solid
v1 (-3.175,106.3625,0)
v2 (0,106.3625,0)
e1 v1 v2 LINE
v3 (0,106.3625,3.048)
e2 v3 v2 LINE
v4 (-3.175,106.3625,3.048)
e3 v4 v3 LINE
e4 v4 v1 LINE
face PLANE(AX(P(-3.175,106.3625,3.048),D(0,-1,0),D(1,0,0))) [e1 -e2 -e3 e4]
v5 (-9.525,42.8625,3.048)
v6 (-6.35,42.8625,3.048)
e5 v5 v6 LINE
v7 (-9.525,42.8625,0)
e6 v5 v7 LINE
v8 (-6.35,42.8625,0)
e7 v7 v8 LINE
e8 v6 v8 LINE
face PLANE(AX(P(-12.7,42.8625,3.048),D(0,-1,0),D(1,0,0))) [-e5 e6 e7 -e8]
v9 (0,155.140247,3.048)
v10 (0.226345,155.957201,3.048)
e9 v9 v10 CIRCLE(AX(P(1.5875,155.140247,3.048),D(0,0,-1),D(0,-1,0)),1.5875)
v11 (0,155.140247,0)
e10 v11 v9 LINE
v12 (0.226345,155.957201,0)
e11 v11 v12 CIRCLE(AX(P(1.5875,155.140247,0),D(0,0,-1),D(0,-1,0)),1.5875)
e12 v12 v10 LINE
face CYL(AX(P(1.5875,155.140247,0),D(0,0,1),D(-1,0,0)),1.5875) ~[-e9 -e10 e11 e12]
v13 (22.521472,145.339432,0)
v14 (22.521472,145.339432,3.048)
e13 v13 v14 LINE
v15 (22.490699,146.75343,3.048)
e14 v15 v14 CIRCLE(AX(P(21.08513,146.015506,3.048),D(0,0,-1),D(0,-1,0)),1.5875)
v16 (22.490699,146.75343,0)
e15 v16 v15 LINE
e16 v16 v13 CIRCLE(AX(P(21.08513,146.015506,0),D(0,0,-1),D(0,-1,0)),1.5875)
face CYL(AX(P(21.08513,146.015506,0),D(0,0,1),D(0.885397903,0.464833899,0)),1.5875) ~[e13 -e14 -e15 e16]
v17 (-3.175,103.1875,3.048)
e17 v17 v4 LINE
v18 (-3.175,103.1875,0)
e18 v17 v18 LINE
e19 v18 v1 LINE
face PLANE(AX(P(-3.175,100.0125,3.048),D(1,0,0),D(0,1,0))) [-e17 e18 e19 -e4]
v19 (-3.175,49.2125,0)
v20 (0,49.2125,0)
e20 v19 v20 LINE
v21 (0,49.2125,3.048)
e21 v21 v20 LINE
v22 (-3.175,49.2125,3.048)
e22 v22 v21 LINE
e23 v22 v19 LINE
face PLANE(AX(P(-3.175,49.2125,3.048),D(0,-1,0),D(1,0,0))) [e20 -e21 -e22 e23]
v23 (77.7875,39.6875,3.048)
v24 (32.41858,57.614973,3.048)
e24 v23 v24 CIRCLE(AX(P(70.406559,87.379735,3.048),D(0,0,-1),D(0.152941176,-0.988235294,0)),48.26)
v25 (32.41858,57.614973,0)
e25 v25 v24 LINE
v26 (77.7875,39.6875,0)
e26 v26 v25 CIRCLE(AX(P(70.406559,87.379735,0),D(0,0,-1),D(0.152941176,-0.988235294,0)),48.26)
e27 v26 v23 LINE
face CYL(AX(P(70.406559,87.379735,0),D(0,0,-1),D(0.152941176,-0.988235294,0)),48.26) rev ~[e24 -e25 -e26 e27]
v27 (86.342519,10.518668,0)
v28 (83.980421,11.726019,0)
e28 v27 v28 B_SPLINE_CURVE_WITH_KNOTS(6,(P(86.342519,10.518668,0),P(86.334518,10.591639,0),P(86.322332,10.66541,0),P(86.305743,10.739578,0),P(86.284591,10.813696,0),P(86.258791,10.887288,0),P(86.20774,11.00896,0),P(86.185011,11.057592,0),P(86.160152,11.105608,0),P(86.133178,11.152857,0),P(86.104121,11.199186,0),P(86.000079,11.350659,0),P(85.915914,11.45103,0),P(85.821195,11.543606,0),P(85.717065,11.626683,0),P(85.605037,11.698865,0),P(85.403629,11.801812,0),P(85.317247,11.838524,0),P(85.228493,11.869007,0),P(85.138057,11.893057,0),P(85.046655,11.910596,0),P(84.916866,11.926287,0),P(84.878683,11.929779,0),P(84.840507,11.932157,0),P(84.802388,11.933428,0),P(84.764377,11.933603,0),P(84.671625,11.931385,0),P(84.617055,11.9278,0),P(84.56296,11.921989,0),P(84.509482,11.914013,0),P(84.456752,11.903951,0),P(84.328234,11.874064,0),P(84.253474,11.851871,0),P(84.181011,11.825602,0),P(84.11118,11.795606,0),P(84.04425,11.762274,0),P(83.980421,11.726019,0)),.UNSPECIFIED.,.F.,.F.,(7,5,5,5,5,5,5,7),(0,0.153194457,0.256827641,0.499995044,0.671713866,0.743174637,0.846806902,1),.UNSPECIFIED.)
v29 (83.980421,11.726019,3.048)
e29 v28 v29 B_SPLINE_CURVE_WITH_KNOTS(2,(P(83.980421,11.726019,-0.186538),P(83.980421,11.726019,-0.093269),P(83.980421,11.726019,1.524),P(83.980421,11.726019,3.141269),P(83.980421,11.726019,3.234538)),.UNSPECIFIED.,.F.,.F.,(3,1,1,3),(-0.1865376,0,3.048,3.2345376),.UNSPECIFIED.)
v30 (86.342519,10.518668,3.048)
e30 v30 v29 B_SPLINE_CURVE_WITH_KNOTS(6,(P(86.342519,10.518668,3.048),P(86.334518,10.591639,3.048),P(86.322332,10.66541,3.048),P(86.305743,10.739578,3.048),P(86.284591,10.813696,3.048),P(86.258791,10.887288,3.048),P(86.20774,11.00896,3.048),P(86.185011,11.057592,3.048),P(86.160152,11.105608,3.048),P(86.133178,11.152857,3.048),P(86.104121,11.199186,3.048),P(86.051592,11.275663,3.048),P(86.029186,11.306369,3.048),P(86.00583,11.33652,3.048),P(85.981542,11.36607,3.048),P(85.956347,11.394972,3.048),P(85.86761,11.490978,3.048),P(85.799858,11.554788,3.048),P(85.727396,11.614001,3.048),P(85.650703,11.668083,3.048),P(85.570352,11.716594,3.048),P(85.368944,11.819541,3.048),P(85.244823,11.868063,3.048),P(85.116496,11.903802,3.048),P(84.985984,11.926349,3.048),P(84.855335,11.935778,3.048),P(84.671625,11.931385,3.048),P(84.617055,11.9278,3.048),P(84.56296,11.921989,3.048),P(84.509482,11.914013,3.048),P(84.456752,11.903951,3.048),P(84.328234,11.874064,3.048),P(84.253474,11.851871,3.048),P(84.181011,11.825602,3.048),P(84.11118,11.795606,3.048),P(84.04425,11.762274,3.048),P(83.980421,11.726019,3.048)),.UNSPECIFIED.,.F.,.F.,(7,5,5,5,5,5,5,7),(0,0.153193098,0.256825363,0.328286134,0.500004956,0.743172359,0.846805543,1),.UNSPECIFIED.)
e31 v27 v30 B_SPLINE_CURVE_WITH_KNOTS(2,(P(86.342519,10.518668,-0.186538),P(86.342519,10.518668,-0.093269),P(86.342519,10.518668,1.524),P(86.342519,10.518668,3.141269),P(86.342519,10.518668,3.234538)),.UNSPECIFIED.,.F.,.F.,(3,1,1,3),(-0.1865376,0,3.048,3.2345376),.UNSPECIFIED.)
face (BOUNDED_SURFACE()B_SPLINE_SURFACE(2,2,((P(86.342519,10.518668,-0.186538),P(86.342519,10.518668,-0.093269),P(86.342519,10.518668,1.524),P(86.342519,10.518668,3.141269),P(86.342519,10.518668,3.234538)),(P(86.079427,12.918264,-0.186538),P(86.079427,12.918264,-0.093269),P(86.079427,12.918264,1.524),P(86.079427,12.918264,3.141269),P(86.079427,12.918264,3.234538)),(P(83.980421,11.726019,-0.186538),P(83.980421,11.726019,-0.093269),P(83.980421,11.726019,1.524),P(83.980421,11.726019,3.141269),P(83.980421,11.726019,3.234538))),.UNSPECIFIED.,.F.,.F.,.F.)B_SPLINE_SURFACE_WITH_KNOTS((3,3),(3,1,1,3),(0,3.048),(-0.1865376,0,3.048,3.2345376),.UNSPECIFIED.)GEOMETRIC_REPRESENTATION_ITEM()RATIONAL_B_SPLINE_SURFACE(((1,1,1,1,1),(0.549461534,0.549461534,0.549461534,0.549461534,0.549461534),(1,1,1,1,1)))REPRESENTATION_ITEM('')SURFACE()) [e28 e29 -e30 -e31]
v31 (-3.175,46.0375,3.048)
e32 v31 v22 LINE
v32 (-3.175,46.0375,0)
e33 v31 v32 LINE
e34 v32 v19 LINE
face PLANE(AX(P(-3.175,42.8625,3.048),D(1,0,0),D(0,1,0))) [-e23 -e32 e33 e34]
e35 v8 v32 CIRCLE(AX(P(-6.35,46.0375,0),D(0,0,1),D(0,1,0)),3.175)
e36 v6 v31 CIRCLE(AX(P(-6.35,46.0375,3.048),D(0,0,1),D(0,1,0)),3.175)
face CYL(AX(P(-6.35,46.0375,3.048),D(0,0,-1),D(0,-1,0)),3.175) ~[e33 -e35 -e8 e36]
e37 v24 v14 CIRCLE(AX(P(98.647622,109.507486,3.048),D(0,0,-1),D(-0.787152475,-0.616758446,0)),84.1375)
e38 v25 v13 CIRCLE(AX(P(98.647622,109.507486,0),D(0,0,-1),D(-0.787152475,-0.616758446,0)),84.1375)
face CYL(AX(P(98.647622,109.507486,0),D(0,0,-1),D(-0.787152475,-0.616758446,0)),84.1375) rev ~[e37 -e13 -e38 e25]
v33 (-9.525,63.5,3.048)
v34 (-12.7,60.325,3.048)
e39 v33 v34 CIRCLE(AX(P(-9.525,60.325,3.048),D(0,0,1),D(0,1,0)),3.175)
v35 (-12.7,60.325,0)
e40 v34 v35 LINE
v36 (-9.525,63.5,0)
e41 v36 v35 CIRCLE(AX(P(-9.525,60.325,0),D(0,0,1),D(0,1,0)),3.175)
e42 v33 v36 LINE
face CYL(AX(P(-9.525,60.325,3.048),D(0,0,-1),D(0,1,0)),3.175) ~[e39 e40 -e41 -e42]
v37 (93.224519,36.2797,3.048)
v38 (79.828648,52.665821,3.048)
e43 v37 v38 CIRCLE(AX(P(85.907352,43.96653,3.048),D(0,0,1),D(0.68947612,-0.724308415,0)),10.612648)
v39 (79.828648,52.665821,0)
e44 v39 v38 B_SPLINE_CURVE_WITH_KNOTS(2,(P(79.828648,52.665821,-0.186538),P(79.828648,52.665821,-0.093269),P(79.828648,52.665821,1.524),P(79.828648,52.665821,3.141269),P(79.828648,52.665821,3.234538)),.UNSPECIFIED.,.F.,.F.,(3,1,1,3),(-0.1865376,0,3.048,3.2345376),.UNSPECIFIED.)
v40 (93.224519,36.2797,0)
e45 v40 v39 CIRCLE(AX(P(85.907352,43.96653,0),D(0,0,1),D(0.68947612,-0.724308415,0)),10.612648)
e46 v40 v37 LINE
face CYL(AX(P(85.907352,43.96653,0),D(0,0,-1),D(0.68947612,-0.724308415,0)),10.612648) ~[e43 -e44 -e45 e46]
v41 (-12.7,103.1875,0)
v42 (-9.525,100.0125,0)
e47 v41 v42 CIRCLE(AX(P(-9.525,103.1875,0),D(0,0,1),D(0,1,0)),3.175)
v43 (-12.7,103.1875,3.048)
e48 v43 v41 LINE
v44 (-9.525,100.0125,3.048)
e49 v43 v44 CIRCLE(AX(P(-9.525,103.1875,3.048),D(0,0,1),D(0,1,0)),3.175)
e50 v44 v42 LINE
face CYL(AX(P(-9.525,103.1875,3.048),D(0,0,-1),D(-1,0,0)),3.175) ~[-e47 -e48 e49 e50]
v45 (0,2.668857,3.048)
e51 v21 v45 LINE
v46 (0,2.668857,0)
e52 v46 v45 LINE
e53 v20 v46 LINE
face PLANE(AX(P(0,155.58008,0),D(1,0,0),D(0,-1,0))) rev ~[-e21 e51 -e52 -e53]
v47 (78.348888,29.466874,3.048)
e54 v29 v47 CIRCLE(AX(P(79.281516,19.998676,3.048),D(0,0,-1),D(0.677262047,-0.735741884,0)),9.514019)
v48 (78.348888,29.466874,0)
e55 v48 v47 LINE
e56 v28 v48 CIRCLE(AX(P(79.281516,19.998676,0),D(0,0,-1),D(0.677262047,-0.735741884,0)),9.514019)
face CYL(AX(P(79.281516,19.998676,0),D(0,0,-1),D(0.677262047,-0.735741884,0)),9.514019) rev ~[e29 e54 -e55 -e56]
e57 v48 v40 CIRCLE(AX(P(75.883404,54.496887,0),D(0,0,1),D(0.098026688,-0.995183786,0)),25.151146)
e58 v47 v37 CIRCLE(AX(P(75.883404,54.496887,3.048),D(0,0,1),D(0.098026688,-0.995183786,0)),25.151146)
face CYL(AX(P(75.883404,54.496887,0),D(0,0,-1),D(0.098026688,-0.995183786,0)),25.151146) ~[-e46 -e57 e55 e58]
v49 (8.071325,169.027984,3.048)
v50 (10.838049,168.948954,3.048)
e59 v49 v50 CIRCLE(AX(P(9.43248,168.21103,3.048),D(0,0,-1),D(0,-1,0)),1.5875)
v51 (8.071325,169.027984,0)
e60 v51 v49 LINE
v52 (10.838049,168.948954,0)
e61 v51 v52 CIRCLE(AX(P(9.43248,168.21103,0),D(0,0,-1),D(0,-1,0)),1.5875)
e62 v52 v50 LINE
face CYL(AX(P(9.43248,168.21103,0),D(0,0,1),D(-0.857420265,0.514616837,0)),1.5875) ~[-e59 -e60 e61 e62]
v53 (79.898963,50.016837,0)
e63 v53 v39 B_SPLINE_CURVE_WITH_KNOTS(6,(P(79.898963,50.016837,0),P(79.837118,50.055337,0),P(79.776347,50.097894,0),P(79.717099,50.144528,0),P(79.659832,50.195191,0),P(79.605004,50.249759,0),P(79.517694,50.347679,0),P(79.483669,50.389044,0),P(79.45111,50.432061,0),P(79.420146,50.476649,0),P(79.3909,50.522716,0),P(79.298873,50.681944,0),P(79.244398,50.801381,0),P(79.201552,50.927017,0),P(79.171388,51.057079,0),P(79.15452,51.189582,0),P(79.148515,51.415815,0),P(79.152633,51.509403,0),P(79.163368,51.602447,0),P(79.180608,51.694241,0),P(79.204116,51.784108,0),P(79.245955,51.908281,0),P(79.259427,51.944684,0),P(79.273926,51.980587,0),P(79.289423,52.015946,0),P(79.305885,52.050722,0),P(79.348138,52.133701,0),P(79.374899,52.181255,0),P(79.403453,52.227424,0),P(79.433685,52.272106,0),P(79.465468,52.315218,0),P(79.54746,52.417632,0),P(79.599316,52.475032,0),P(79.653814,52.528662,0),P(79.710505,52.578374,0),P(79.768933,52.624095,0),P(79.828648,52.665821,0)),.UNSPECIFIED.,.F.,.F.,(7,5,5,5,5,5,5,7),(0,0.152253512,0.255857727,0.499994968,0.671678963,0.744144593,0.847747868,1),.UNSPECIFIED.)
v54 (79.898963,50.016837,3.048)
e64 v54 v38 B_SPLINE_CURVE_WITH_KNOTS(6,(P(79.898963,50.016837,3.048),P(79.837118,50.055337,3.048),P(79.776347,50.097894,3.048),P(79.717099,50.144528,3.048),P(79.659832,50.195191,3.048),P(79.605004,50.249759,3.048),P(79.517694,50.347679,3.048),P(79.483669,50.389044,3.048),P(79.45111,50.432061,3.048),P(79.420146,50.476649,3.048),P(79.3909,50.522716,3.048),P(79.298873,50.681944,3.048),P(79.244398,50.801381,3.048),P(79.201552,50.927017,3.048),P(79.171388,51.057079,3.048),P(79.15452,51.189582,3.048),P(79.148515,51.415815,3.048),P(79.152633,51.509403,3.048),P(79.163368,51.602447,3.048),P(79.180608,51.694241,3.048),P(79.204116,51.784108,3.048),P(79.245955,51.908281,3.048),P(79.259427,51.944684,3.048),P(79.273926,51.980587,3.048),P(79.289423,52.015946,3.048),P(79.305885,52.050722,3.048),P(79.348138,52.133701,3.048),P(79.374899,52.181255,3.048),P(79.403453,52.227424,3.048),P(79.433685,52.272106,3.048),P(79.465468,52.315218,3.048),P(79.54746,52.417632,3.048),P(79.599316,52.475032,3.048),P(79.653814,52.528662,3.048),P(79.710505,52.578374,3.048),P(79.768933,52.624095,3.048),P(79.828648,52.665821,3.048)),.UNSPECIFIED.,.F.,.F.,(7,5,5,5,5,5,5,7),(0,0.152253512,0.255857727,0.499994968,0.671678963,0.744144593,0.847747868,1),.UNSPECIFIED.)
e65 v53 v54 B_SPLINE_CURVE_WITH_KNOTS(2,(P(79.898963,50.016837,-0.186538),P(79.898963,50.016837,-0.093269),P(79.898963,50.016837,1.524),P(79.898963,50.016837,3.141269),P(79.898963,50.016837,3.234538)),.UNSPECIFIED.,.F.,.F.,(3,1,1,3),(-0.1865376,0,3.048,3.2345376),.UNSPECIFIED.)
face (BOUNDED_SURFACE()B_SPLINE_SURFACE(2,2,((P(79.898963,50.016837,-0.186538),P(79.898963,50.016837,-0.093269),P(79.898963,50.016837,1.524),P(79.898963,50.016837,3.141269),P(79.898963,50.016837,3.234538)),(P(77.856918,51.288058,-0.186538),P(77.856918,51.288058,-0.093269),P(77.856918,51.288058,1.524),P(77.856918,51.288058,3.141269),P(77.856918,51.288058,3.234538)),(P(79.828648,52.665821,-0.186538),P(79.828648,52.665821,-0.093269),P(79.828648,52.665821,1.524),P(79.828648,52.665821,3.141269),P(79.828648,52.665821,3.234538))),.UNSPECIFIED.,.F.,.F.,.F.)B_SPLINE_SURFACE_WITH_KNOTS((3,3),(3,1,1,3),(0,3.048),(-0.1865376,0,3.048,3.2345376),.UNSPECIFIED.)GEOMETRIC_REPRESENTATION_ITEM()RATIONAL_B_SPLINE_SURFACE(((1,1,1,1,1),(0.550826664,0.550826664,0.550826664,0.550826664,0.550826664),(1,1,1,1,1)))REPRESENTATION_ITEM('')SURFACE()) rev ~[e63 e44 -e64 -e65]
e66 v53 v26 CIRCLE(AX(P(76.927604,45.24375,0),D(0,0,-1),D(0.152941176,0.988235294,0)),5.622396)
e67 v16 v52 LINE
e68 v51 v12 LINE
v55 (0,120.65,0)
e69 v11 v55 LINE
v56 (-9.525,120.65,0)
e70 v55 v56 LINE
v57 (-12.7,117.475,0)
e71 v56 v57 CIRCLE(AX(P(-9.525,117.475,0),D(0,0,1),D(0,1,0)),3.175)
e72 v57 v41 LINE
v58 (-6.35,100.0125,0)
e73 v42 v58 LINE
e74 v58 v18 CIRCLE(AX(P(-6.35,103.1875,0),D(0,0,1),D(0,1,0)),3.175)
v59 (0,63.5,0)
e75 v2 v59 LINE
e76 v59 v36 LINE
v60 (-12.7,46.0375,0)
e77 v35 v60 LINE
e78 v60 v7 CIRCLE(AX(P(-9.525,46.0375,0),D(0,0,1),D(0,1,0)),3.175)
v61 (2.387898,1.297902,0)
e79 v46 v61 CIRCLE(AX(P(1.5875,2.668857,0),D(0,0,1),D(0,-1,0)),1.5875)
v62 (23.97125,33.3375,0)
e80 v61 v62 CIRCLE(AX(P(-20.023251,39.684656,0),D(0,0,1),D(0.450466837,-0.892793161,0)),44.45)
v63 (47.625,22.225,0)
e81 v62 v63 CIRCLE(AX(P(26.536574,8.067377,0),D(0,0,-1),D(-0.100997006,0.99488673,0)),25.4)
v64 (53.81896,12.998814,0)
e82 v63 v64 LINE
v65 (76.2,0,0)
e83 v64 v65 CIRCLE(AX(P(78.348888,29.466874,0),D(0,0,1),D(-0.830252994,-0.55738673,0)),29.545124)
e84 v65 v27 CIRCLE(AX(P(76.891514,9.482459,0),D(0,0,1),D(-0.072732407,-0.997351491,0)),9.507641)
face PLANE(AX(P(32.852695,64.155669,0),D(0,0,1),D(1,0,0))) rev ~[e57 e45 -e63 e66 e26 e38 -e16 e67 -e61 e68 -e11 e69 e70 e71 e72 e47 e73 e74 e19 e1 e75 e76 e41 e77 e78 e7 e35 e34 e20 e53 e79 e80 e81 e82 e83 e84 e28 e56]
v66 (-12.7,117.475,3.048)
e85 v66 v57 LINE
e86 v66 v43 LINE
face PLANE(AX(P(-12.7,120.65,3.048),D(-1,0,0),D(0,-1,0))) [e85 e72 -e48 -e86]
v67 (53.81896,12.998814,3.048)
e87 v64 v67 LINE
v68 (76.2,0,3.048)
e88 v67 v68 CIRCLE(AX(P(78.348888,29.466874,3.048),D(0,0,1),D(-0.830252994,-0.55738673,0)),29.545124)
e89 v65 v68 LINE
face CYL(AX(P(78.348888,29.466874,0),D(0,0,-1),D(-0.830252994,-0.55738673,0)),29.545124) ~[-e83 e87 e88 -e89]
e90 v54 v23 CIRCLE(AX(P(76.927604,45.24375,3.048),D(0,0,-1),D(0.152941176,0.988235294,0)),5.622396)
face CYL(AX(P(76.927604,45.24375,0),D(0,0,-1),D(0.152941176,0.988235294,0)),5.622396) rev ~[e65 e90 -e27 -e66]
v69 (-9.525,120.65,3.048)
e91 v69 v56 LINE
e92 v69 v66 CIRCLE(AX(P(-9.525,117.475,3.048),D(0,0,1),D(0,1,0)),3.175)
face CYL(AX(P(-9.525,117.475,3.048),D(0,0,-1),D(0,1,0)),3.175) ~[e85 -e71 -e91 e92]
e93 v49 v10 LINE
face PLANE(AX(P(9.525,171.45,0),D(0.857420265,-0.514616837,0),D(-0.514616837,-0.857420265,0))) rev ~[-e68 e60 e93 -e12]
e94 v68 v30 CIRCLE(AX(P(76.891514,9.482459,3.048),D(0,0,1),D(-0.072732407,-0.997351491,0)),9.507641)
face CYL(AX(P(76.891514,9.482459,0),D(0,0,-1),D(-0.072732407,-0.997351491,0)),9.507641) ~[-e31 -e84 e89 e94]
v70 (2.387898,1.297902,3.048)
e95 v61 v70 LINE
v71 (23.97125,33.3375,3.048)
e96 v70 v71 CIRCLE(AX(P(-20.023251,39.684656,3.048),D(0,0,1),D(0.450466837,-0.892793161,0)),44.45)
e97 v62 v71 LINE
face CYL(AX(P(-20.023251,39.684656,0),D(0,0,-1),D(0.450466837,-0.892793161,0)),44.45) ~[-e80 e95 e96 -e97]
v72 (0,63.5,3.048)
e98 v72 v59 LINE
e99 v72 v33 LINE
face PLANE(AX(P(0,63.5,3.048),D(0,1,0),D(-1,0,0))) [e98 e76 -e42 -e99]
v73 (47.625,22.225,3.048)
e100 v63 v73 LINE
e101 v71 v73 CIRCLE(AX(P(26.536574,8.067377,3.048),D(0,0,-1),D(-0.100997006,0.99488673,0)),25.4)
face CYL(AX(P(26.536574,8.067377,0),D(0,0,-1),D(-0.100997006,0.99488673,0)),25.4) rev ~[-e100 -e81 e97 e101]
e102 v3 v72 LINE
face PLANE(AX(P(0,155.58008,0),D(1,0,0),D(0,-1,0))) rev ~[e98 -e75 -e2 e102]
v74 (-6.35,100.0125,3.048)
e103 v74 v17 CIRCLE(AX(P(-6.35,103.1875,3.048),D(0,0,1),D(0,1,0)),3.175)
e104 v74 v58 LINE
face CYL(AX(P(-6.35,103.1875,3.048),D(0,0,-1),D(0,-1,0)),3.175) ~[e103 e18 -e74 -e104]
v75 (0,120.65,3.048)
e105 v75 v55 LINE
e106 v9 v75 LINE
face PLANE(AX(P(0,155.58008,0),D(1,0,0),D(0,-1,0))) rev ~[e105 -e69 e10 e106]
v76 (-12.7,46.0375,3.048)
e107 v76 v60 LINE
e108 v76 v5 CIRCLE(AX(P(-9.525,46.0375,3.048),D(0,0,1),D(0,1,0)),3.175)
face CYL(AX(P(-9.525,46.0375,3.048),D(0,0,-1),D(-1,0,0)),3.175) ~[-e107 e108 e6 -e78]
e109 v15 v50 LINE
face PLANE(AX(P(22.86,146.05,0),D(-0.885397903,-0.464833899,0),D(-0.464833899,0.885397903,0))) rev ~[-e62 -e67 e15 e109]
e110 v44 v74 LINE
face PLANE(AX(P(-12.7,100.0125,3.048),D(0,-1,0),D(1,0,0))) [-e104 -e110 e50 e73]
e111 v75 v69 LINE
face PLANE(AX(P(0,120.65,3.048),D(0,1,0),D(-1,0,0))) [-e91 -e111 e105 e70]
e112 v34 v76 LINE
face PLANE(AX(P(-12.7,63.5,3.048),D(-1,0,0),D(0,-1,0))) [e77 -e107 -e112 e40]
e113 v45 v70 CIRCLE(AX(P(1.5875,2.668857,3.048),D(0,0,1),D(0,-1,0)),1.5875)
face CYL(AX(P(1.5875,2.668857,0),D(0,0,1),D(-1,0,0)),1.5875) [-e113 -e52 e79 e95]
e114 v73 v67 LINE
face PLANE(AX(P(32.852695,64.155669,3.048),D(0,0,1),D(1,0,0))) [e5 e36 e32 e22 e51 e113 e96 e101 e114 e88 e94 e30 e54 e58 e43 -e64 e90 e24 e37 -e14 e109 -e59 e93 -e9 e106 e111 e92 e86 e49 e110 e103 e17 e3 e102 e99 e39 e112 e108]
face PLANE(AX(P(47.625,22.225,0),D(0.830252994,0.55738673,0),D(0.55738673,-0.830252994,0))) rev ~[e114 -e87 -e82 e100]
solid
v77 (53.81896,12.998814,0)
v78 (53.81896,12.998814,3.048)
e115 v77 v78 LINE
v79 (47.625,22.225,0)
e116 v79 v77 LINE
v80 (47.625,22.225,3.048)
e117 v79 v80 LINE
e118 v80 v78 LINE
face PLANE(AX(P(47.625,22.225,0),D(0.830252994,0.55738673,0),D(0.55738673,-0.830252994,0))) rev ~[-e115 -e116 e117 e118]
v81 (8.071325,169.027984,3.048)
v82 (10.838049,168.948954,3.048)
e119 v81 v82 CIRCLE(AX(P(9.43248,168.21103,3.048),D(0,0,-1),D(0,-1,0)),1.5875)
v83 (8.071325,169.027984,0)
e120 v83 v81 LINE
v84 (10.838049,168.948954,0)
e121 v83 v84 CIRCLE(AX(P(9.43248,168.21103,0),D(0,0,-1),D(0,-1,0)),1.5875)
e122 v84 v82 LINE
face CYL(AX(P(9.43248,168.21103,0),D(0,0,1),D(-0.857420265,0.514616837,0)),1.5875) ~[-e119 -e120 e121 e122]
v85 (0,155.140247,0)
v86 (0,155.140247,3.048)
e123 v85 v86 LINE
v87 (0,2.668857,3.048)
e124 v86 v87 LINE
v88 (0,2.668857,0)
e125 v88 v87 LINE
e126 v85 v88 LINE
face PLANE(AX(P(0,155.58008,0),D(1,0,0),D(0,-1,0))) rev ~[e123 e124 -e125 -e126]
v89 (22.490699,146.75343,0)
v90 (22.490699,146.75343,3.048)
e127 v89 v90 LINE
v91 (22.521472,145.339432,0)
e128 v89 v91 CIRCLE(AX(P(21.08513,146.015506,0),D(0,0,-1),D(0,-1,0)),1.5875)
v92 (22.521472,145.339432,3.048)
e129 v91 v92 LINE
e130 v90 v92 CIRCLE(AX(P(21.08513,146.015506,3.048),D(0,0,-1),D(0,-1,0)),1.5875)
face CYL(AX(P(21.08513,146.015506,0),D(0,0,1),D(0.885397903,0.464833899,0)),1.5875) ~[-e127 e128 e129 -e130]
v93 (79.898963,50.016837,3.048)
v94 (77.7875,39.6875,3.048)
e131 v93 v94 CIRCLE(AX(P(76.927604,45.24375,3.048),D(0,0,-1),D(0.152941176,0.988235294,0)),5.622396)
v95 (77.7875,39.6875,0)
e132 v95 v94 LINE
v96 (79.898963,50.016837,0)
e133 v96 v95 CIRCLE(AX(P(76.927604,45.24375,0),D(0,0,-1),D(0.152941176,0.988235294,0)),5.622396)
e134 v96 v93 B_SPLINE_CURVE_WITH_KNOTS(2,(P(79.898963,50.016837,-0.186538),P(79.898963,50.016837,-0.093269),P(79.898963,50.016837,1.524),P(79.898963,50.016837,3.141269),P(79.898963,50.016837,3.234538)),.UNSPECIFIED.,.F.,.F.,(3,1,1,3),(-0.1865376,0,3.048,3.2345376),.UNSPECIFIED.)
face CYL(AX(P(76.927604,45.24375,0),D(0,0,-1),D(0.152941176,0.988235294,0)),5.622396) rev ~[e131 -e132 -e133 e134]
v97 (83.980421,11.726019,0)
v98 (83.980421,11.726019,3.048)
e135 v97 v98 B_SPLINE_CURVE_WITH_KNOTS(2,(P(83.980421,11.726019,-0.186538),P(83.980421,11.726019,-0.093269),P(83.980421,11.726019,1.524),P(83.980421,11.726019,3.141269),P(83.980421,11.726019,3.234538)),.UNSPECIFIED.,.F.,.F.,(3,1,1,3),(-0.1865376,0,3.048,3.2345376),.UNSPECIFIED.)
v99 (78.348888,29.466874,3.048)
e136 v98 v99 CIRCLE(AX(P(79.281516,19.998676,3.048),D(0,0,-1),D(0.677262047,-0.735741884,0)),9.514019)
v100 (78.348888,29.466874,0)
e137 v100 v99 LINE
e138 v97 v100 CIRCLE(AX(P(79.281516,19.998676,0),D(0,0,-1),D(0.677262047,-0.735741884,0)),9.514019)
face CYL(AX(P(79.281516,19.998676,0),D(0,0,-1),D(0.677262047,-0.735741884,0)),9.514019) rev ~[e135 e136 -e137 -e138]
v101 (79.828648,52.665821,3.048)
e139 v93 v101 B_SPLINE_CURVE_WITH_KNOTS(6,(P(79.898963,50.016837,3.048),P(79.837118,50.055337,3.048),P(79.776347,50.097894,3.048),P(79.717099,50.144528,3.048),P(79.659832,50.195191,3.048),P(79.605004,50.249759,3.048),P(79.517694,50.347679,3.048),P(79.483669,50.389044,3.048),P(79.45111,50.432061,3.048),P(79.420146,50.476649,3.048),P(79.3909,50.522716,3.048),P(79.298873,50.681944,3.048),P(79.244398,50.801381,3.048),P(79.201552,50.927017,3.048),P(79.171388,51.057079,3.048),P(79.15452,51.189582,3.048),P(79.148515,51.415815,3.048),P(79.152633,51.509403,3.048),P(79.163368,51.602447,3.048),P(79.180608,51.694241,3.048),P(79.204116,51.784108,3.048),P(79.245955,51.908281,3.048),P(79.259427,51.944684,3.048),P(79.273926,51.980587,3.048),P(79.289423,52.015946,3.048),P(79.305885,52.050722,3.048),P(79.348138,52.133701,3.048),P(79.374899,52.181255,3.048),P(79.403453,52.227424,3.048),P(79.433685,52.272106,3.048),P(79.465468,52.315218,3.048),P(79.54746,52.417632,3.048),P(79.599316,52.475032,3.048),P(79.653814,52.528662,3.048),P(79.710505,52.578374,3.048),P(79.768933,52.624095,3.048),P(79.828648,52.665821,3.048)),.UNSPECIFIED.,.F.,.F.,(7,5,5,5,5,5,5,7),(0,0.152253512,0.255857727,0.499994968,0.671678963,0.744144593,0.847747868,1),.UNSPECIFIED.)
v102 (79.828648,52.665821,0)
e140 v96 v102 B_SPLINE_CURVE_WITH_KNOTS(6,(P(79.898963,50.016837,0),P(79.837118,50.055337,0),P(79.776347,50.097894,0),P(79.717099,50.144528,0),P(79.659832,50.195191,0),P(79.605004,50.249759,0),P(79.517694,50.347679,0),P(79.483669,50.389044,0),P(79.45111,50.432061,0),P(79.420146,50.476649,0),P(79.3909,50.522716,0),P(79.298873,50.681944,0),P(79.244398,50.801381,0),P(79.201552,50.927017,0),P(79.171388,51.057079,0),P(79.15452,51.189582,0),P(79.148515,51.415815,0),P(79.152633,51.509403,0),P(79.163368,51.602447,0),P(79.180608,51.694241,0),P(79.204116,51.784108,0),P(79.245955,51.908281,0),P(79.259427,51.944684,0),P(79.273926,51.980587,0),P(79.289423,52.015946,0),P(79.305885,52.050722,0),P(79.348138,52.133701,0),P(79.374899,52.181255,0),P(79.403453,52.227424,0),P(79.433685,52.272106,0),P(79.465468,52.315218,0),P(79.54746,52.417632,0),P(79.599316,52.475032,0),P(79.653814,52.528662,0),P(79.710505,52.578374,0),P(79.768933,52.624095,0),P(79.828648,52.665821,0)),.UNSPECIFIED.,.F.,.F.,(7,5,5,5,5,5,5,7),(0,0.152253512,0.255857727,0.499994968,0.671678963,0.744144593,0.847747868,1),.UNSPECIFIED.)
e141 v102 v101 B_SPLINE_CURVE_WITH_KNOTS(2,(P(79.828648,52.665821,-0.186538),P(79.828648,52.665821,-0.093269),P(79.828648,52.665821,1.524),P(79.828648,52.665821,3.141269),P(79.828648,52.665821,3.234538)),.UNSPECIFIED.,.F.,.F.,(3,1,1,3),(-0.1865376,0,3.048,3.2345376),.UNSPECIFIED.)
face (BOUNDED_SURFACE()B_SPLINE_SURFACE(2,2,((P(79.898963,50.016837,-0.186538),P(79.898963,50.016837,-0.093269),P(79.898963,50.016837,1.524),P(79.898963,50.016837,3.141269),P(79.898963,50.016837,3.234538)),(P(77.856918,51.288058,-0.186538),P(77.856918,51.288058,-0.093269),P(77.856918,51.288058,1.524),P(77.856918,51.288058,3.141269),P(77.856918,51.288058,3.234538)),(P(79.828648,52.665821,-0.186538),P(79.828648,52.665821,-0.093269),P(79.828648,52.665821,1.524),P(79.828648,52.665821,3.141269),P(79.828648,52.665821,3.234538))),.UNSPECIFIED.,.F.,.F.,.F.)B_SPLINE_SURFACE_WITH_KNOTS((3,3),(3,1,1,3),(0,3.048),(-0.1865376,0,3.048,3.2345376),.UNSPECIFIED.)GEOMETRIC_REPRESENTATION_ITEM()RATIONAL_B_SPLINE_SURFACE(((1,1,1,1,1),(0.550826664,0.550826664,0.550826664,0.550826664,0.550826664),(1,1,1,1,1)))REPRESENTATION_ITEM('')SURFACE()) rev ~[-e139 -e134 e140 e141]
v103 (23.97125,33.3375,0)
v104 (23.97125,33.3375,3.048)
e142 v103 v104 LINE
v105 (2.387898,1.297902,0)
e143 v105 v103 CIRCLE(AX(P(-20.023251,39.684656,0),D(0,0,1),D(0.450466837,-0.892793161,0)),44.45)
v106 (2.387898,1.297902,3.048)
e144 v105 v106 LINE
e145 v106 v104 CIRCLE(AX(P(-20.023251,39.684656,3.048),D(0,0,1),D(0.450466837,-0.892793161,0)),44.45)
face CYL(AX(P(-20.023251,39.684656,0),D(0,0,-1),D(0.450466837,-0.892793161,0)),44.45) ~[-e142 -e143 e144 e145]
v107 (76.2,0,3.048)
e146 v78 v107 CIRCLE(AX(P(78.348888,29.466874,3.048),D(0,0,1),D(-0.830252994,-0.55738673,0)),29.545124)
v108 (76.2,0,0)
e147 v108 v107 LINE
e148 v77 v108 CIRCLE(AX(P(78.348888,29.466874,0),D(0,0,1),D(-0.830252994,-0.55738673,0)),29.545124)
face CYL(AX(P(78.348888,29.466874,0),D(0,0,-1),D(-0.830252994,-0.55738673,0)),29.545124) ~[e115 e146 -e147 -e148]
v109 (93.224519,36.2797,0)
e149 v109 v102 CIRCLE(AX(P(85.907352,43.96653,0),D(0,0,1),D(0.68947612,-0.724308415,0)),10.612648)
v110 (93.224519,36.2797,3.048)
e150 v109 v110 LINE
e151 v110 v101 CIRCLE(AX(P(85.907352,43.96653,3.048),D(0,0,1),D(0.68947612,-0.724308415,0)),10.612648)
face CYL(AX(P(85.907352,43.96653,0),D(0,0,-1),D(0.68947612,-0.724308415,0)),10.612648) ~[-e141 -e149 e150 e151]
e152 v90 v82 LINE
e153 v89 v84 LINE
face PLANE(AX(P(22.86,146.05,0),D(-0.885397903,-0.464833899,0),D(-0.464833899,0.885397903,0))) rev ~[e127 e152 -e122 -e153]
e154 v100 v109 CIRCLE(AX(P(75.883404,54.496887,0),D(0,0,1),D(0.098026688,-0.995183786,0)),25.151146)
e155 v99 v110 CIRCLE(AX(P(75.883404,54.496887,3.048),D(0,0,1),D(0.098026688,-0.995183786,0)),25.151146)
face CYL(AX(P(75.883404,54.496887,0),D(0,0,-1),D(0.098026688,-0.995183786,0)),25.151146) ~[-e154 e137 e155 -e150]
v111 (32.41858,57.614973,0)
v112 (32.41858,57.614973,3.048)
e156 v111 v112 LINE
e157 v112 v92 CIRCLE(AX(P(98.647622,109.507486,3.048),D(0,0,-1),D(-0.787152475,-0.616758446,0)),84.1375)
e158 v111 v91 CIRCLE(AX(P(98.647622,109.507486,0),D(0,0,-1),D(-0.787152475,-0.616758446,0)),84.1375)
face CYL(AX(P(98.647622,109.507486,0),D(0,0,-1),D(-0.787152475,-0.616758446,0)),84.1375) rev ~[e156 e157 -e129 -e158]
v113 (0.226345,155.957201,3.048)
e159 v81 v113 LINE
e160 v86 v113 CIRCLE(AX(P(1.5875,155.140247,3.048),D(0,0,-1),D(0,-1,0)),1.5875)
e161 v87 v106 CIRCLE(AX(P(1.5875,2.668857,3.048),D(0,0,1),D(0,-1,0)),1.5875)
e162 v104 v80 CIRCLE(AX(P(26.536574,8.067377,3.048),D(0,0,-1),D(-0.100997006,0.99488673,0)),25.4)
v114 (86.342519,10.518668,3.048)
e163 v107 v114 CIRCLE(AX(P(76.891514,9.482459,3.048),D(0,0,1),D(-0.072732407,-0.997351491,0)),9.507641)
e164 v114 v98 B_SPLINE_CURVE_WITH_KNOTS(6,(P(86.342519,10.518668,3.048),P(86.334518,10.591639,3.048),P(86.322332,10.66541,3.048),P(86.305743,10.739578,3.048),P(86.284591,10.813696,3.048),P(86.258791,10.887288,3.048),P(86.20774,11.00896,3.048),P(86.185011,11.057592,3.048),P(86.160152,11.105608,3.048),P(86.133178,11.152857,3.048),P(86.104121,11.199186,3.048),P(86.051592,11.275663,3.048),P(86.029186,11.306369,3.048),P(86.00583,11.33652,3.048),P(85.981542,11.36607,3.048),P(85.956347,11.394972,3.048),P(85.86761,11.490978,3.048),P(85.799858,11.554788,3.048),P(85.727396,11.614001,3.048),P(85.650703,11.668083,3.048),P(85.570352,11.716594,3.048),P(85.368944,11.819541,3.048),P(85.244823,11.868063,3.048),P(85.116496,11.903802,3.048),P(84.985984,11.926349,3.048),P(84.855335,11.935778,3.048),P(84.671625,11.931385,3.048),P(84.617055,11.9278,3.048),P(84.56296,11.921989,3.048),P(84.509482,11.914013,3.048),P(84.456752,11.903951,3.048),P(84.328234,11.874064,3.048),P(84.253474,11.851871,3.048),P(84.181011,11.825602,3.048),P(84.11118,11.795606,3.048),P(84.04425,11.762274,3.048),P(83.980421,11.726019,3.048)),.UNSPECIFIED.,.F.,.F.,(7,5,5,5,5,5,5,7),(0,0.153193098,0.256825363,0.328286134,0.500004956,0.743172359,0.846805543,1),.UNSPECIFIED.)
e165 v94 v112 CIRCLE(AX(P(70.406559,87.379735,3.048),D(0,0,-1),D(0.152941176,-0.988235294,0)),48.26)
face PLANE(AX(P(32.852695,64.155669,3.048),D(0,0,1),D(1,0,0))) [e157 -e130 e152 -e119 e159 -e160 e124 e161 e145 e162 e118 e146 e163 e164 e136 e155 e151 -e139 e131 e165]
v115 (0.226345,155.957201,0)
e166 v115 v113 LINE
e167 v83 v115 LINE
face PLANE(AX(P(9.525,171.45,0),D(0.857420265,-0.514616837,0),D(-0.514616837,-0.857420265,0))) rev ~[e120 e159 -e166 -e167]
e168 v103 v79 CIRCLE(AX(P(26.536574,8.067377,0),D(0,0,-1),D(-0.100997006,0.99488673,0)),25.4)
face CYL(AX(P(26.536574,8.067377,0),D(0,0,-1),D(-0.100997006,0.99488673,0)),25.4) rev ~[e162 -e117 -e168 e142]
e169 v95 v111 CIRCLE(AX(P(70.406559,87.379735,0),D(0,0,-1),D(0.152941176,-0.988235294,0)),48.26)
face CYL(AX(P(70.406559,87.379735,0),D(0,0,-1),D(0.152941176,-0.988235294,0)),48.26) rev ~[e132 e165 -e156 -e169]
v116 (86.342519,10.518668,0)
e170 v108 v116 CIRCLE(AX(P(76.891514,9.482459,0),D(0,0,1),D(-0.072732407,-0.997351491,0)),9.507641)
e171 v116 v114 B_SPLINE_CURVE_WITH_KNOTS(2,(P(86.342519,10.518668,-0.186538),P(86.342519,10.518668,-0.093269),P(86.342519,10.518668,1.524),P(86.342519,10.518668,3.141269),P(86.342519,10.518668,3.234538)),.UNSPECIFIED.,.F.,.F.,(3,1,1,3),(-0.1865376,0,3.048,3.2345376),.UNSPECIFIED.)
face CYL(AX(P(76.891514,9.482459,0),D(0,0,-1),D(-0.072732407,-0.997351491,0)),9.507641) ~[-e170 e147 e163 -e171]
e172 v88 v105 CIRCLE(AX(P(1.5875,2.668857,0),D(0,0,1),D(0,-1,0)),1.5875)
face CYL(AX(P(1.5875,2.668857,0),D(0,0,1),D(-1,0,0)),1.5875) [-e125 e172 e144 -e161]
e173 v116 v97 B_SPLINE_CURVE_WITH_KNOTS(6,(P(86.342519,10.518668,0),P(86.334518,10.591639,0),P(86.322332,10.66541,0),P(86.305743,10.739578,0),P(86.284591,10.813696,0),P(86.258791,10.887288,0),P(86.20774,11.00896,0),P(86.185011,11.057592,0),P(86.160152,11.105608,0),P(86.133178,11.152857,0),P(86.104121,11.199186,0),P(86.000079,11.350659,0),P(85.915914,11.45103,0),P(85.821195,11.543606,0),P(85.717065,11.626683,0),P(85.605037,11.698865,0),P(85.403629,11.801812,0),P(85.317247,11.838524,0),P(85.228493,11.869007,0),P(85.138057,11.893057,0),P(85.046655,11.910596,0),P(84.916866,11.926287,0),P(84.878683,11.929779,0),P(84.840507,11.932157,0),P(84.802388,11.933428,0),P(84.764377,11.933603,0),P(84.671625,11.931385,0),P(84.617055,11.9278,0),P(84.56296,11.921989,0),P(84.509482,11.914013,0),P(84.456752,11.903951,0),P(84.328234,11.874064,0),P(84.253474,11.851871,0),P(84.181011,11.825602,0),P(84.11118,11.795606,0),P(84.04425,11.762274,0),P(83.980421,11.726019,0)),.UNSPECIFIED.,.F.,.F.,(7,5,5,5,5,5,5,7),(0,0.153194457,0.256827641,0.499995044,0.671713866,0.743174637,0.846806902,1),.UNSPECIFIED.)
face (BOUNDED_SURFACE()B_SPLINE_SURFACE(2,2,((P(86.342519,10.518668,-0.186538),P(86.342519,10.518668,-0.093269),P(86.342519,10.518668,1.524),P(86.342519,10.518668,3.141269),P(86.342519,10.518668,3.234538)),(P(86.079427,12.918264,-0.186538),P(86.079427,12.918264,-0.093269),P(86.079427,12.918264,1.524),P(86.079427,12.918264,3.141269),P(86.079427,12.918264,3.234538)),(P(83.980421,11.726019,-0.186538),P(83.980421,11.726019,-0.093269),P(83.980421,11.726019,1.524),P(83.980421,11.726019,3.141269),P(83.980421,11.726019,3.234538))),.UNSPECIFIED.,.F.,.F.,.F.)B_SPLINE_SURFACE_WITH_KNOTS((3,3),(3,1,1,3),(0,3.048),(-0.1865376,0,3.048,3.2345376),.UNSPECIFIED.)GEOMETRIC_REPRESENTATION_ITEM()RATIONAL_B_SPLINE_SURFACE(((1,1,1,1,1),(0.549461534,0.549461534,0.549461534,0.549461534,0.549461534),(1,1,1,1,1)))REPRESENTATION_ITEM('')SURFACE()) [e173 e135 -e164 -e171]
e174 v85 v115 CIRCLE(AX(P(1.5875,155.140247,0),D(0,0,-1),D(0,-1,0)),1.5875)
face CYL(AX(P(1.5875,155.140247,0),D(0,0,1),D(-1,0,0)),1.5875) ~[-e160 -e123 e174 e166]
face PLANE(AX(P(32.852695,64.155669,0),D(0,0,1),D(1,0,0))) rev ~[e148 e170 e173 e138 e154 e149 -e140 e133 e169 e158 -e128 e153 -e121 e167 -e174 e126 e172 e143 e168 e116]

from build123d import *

# Parameters (mm, degrees)
F1_DEPTH = 3.048
F2_R     = 1.5875
F3_R     = 1.5875
F6_DEPTH = 3.048
F7_R     = 3.175


with BuildPart() as f1:
    # F0 (on Top) → F1 (new body)
    with BuildSketch(Plane.XY):
        with BuildLine():
            Line((0, 155.58008), (0, 0))
            ThreePointArc((0, 0), (16.0657413669, 13.7349520409), (23.97125, 33.3375))
            ThreePointArc((23.97125, 33.3375), (37.3369555145, 31.0567606666), (47.625, 22.225))
            Line((47.625, 22.225), (53.8189600327, 12.9988136067))
            ThreePointArc((53.8189600327, 12.9988136067), (63.5103539034, 3.9182480558), (76.2, 0))
            ThreePointArc((76.2, 0), (84.5606216914, 3.8628501031), (85.725, 12.9988136067))
            ThreePointArc((85.725, 12.9988136067), (70.5986800518, 16.1095982153), (78.3488880049, 29.4668738634))
            ThreePointArc((78.3488880049, 29.4668738634), (86.3561779724, 31.6298543693), (93.2245193167, 36.2797000087))
            ThreePointArc((93.2245193167, 36.2797000087), (93.1785865006, 51.6968245155), (77.7875, 50.8))
            ThreePointArc((77.7875, 50.8), (82.55, 45.24375), (77.7875, 39.6875))
            ThreePointArc((77.7875, 39.6875), (52.6711069912, 42.4967613697), (32.4185803799, 57.614972675))
            ThreePointArc((32.4185803799, 57.614972675), (14.997327874, 100.4660683399), (22.86, 146.05))
            Line((22.86, 146.05), (9.525, 171.45))
            Line((9.525, 171.45), (0, 155.58008))
        make_face()
    extrude(amount=F1_DEPTH)

    # F2
    f2_edges = [f1.edges().sort_by_distance(p)[0] for p in [
        (0, 0, 1.524),
    ]]
    fillet(f2_edges, radius=F2_R)

    # F3
    f3_edges = [f1.edges().sort_by_distance(p)[0] for p in [
        (85.725, 12.998814, 1.524),
        (22.86, 146.05, 1.524),
        (9.525, 171.45, 1.524),
        (0, 155.58008, 1.524),
        (77.7875, 50.8, 1.524),
    ]]
    fillet(f3_edges, radius=F3_R)


with BuildPart() as f4_1:
    # F4: copy of F1
    add(f1.part)

    # F5 (on face) → F6 (join)
    with BuildSketch(Plane.XY.offset(3.048)):
        Polygon((0, 49.2125), (0, 63.5), (-12.7, 63.5), (-12.7, 42.8625), (-3.175, 42.8625), (-3.175, 49.2125), align=None)
        Polygon((0, 106.3625), (0, 120.65), (-12.7, 120.65), (-12.7, 100.0125), (-3.175, 100.0125), (-3.175, 106.3625), align=None)
    extrude(amount=-F6_DEPTH)

    # F7
    f7_edges = [f4_1.edges().sort_by_distance(p)[0] for p in [
        (-12.7, 120.65, 1.524),
        (-12.7, 100.0125, 1.524),
        (-12.7, 63.5, 1.524),
        (-12.7, 42.8625, 1.524),
        (-3.175, 100.0125, 1.524),
        (-3.175, 42.8625, 1.524),
    ]]
    fillet(f7_edges, radius=F7_R)


solid = Compound([f1.part, f4_1.part])
